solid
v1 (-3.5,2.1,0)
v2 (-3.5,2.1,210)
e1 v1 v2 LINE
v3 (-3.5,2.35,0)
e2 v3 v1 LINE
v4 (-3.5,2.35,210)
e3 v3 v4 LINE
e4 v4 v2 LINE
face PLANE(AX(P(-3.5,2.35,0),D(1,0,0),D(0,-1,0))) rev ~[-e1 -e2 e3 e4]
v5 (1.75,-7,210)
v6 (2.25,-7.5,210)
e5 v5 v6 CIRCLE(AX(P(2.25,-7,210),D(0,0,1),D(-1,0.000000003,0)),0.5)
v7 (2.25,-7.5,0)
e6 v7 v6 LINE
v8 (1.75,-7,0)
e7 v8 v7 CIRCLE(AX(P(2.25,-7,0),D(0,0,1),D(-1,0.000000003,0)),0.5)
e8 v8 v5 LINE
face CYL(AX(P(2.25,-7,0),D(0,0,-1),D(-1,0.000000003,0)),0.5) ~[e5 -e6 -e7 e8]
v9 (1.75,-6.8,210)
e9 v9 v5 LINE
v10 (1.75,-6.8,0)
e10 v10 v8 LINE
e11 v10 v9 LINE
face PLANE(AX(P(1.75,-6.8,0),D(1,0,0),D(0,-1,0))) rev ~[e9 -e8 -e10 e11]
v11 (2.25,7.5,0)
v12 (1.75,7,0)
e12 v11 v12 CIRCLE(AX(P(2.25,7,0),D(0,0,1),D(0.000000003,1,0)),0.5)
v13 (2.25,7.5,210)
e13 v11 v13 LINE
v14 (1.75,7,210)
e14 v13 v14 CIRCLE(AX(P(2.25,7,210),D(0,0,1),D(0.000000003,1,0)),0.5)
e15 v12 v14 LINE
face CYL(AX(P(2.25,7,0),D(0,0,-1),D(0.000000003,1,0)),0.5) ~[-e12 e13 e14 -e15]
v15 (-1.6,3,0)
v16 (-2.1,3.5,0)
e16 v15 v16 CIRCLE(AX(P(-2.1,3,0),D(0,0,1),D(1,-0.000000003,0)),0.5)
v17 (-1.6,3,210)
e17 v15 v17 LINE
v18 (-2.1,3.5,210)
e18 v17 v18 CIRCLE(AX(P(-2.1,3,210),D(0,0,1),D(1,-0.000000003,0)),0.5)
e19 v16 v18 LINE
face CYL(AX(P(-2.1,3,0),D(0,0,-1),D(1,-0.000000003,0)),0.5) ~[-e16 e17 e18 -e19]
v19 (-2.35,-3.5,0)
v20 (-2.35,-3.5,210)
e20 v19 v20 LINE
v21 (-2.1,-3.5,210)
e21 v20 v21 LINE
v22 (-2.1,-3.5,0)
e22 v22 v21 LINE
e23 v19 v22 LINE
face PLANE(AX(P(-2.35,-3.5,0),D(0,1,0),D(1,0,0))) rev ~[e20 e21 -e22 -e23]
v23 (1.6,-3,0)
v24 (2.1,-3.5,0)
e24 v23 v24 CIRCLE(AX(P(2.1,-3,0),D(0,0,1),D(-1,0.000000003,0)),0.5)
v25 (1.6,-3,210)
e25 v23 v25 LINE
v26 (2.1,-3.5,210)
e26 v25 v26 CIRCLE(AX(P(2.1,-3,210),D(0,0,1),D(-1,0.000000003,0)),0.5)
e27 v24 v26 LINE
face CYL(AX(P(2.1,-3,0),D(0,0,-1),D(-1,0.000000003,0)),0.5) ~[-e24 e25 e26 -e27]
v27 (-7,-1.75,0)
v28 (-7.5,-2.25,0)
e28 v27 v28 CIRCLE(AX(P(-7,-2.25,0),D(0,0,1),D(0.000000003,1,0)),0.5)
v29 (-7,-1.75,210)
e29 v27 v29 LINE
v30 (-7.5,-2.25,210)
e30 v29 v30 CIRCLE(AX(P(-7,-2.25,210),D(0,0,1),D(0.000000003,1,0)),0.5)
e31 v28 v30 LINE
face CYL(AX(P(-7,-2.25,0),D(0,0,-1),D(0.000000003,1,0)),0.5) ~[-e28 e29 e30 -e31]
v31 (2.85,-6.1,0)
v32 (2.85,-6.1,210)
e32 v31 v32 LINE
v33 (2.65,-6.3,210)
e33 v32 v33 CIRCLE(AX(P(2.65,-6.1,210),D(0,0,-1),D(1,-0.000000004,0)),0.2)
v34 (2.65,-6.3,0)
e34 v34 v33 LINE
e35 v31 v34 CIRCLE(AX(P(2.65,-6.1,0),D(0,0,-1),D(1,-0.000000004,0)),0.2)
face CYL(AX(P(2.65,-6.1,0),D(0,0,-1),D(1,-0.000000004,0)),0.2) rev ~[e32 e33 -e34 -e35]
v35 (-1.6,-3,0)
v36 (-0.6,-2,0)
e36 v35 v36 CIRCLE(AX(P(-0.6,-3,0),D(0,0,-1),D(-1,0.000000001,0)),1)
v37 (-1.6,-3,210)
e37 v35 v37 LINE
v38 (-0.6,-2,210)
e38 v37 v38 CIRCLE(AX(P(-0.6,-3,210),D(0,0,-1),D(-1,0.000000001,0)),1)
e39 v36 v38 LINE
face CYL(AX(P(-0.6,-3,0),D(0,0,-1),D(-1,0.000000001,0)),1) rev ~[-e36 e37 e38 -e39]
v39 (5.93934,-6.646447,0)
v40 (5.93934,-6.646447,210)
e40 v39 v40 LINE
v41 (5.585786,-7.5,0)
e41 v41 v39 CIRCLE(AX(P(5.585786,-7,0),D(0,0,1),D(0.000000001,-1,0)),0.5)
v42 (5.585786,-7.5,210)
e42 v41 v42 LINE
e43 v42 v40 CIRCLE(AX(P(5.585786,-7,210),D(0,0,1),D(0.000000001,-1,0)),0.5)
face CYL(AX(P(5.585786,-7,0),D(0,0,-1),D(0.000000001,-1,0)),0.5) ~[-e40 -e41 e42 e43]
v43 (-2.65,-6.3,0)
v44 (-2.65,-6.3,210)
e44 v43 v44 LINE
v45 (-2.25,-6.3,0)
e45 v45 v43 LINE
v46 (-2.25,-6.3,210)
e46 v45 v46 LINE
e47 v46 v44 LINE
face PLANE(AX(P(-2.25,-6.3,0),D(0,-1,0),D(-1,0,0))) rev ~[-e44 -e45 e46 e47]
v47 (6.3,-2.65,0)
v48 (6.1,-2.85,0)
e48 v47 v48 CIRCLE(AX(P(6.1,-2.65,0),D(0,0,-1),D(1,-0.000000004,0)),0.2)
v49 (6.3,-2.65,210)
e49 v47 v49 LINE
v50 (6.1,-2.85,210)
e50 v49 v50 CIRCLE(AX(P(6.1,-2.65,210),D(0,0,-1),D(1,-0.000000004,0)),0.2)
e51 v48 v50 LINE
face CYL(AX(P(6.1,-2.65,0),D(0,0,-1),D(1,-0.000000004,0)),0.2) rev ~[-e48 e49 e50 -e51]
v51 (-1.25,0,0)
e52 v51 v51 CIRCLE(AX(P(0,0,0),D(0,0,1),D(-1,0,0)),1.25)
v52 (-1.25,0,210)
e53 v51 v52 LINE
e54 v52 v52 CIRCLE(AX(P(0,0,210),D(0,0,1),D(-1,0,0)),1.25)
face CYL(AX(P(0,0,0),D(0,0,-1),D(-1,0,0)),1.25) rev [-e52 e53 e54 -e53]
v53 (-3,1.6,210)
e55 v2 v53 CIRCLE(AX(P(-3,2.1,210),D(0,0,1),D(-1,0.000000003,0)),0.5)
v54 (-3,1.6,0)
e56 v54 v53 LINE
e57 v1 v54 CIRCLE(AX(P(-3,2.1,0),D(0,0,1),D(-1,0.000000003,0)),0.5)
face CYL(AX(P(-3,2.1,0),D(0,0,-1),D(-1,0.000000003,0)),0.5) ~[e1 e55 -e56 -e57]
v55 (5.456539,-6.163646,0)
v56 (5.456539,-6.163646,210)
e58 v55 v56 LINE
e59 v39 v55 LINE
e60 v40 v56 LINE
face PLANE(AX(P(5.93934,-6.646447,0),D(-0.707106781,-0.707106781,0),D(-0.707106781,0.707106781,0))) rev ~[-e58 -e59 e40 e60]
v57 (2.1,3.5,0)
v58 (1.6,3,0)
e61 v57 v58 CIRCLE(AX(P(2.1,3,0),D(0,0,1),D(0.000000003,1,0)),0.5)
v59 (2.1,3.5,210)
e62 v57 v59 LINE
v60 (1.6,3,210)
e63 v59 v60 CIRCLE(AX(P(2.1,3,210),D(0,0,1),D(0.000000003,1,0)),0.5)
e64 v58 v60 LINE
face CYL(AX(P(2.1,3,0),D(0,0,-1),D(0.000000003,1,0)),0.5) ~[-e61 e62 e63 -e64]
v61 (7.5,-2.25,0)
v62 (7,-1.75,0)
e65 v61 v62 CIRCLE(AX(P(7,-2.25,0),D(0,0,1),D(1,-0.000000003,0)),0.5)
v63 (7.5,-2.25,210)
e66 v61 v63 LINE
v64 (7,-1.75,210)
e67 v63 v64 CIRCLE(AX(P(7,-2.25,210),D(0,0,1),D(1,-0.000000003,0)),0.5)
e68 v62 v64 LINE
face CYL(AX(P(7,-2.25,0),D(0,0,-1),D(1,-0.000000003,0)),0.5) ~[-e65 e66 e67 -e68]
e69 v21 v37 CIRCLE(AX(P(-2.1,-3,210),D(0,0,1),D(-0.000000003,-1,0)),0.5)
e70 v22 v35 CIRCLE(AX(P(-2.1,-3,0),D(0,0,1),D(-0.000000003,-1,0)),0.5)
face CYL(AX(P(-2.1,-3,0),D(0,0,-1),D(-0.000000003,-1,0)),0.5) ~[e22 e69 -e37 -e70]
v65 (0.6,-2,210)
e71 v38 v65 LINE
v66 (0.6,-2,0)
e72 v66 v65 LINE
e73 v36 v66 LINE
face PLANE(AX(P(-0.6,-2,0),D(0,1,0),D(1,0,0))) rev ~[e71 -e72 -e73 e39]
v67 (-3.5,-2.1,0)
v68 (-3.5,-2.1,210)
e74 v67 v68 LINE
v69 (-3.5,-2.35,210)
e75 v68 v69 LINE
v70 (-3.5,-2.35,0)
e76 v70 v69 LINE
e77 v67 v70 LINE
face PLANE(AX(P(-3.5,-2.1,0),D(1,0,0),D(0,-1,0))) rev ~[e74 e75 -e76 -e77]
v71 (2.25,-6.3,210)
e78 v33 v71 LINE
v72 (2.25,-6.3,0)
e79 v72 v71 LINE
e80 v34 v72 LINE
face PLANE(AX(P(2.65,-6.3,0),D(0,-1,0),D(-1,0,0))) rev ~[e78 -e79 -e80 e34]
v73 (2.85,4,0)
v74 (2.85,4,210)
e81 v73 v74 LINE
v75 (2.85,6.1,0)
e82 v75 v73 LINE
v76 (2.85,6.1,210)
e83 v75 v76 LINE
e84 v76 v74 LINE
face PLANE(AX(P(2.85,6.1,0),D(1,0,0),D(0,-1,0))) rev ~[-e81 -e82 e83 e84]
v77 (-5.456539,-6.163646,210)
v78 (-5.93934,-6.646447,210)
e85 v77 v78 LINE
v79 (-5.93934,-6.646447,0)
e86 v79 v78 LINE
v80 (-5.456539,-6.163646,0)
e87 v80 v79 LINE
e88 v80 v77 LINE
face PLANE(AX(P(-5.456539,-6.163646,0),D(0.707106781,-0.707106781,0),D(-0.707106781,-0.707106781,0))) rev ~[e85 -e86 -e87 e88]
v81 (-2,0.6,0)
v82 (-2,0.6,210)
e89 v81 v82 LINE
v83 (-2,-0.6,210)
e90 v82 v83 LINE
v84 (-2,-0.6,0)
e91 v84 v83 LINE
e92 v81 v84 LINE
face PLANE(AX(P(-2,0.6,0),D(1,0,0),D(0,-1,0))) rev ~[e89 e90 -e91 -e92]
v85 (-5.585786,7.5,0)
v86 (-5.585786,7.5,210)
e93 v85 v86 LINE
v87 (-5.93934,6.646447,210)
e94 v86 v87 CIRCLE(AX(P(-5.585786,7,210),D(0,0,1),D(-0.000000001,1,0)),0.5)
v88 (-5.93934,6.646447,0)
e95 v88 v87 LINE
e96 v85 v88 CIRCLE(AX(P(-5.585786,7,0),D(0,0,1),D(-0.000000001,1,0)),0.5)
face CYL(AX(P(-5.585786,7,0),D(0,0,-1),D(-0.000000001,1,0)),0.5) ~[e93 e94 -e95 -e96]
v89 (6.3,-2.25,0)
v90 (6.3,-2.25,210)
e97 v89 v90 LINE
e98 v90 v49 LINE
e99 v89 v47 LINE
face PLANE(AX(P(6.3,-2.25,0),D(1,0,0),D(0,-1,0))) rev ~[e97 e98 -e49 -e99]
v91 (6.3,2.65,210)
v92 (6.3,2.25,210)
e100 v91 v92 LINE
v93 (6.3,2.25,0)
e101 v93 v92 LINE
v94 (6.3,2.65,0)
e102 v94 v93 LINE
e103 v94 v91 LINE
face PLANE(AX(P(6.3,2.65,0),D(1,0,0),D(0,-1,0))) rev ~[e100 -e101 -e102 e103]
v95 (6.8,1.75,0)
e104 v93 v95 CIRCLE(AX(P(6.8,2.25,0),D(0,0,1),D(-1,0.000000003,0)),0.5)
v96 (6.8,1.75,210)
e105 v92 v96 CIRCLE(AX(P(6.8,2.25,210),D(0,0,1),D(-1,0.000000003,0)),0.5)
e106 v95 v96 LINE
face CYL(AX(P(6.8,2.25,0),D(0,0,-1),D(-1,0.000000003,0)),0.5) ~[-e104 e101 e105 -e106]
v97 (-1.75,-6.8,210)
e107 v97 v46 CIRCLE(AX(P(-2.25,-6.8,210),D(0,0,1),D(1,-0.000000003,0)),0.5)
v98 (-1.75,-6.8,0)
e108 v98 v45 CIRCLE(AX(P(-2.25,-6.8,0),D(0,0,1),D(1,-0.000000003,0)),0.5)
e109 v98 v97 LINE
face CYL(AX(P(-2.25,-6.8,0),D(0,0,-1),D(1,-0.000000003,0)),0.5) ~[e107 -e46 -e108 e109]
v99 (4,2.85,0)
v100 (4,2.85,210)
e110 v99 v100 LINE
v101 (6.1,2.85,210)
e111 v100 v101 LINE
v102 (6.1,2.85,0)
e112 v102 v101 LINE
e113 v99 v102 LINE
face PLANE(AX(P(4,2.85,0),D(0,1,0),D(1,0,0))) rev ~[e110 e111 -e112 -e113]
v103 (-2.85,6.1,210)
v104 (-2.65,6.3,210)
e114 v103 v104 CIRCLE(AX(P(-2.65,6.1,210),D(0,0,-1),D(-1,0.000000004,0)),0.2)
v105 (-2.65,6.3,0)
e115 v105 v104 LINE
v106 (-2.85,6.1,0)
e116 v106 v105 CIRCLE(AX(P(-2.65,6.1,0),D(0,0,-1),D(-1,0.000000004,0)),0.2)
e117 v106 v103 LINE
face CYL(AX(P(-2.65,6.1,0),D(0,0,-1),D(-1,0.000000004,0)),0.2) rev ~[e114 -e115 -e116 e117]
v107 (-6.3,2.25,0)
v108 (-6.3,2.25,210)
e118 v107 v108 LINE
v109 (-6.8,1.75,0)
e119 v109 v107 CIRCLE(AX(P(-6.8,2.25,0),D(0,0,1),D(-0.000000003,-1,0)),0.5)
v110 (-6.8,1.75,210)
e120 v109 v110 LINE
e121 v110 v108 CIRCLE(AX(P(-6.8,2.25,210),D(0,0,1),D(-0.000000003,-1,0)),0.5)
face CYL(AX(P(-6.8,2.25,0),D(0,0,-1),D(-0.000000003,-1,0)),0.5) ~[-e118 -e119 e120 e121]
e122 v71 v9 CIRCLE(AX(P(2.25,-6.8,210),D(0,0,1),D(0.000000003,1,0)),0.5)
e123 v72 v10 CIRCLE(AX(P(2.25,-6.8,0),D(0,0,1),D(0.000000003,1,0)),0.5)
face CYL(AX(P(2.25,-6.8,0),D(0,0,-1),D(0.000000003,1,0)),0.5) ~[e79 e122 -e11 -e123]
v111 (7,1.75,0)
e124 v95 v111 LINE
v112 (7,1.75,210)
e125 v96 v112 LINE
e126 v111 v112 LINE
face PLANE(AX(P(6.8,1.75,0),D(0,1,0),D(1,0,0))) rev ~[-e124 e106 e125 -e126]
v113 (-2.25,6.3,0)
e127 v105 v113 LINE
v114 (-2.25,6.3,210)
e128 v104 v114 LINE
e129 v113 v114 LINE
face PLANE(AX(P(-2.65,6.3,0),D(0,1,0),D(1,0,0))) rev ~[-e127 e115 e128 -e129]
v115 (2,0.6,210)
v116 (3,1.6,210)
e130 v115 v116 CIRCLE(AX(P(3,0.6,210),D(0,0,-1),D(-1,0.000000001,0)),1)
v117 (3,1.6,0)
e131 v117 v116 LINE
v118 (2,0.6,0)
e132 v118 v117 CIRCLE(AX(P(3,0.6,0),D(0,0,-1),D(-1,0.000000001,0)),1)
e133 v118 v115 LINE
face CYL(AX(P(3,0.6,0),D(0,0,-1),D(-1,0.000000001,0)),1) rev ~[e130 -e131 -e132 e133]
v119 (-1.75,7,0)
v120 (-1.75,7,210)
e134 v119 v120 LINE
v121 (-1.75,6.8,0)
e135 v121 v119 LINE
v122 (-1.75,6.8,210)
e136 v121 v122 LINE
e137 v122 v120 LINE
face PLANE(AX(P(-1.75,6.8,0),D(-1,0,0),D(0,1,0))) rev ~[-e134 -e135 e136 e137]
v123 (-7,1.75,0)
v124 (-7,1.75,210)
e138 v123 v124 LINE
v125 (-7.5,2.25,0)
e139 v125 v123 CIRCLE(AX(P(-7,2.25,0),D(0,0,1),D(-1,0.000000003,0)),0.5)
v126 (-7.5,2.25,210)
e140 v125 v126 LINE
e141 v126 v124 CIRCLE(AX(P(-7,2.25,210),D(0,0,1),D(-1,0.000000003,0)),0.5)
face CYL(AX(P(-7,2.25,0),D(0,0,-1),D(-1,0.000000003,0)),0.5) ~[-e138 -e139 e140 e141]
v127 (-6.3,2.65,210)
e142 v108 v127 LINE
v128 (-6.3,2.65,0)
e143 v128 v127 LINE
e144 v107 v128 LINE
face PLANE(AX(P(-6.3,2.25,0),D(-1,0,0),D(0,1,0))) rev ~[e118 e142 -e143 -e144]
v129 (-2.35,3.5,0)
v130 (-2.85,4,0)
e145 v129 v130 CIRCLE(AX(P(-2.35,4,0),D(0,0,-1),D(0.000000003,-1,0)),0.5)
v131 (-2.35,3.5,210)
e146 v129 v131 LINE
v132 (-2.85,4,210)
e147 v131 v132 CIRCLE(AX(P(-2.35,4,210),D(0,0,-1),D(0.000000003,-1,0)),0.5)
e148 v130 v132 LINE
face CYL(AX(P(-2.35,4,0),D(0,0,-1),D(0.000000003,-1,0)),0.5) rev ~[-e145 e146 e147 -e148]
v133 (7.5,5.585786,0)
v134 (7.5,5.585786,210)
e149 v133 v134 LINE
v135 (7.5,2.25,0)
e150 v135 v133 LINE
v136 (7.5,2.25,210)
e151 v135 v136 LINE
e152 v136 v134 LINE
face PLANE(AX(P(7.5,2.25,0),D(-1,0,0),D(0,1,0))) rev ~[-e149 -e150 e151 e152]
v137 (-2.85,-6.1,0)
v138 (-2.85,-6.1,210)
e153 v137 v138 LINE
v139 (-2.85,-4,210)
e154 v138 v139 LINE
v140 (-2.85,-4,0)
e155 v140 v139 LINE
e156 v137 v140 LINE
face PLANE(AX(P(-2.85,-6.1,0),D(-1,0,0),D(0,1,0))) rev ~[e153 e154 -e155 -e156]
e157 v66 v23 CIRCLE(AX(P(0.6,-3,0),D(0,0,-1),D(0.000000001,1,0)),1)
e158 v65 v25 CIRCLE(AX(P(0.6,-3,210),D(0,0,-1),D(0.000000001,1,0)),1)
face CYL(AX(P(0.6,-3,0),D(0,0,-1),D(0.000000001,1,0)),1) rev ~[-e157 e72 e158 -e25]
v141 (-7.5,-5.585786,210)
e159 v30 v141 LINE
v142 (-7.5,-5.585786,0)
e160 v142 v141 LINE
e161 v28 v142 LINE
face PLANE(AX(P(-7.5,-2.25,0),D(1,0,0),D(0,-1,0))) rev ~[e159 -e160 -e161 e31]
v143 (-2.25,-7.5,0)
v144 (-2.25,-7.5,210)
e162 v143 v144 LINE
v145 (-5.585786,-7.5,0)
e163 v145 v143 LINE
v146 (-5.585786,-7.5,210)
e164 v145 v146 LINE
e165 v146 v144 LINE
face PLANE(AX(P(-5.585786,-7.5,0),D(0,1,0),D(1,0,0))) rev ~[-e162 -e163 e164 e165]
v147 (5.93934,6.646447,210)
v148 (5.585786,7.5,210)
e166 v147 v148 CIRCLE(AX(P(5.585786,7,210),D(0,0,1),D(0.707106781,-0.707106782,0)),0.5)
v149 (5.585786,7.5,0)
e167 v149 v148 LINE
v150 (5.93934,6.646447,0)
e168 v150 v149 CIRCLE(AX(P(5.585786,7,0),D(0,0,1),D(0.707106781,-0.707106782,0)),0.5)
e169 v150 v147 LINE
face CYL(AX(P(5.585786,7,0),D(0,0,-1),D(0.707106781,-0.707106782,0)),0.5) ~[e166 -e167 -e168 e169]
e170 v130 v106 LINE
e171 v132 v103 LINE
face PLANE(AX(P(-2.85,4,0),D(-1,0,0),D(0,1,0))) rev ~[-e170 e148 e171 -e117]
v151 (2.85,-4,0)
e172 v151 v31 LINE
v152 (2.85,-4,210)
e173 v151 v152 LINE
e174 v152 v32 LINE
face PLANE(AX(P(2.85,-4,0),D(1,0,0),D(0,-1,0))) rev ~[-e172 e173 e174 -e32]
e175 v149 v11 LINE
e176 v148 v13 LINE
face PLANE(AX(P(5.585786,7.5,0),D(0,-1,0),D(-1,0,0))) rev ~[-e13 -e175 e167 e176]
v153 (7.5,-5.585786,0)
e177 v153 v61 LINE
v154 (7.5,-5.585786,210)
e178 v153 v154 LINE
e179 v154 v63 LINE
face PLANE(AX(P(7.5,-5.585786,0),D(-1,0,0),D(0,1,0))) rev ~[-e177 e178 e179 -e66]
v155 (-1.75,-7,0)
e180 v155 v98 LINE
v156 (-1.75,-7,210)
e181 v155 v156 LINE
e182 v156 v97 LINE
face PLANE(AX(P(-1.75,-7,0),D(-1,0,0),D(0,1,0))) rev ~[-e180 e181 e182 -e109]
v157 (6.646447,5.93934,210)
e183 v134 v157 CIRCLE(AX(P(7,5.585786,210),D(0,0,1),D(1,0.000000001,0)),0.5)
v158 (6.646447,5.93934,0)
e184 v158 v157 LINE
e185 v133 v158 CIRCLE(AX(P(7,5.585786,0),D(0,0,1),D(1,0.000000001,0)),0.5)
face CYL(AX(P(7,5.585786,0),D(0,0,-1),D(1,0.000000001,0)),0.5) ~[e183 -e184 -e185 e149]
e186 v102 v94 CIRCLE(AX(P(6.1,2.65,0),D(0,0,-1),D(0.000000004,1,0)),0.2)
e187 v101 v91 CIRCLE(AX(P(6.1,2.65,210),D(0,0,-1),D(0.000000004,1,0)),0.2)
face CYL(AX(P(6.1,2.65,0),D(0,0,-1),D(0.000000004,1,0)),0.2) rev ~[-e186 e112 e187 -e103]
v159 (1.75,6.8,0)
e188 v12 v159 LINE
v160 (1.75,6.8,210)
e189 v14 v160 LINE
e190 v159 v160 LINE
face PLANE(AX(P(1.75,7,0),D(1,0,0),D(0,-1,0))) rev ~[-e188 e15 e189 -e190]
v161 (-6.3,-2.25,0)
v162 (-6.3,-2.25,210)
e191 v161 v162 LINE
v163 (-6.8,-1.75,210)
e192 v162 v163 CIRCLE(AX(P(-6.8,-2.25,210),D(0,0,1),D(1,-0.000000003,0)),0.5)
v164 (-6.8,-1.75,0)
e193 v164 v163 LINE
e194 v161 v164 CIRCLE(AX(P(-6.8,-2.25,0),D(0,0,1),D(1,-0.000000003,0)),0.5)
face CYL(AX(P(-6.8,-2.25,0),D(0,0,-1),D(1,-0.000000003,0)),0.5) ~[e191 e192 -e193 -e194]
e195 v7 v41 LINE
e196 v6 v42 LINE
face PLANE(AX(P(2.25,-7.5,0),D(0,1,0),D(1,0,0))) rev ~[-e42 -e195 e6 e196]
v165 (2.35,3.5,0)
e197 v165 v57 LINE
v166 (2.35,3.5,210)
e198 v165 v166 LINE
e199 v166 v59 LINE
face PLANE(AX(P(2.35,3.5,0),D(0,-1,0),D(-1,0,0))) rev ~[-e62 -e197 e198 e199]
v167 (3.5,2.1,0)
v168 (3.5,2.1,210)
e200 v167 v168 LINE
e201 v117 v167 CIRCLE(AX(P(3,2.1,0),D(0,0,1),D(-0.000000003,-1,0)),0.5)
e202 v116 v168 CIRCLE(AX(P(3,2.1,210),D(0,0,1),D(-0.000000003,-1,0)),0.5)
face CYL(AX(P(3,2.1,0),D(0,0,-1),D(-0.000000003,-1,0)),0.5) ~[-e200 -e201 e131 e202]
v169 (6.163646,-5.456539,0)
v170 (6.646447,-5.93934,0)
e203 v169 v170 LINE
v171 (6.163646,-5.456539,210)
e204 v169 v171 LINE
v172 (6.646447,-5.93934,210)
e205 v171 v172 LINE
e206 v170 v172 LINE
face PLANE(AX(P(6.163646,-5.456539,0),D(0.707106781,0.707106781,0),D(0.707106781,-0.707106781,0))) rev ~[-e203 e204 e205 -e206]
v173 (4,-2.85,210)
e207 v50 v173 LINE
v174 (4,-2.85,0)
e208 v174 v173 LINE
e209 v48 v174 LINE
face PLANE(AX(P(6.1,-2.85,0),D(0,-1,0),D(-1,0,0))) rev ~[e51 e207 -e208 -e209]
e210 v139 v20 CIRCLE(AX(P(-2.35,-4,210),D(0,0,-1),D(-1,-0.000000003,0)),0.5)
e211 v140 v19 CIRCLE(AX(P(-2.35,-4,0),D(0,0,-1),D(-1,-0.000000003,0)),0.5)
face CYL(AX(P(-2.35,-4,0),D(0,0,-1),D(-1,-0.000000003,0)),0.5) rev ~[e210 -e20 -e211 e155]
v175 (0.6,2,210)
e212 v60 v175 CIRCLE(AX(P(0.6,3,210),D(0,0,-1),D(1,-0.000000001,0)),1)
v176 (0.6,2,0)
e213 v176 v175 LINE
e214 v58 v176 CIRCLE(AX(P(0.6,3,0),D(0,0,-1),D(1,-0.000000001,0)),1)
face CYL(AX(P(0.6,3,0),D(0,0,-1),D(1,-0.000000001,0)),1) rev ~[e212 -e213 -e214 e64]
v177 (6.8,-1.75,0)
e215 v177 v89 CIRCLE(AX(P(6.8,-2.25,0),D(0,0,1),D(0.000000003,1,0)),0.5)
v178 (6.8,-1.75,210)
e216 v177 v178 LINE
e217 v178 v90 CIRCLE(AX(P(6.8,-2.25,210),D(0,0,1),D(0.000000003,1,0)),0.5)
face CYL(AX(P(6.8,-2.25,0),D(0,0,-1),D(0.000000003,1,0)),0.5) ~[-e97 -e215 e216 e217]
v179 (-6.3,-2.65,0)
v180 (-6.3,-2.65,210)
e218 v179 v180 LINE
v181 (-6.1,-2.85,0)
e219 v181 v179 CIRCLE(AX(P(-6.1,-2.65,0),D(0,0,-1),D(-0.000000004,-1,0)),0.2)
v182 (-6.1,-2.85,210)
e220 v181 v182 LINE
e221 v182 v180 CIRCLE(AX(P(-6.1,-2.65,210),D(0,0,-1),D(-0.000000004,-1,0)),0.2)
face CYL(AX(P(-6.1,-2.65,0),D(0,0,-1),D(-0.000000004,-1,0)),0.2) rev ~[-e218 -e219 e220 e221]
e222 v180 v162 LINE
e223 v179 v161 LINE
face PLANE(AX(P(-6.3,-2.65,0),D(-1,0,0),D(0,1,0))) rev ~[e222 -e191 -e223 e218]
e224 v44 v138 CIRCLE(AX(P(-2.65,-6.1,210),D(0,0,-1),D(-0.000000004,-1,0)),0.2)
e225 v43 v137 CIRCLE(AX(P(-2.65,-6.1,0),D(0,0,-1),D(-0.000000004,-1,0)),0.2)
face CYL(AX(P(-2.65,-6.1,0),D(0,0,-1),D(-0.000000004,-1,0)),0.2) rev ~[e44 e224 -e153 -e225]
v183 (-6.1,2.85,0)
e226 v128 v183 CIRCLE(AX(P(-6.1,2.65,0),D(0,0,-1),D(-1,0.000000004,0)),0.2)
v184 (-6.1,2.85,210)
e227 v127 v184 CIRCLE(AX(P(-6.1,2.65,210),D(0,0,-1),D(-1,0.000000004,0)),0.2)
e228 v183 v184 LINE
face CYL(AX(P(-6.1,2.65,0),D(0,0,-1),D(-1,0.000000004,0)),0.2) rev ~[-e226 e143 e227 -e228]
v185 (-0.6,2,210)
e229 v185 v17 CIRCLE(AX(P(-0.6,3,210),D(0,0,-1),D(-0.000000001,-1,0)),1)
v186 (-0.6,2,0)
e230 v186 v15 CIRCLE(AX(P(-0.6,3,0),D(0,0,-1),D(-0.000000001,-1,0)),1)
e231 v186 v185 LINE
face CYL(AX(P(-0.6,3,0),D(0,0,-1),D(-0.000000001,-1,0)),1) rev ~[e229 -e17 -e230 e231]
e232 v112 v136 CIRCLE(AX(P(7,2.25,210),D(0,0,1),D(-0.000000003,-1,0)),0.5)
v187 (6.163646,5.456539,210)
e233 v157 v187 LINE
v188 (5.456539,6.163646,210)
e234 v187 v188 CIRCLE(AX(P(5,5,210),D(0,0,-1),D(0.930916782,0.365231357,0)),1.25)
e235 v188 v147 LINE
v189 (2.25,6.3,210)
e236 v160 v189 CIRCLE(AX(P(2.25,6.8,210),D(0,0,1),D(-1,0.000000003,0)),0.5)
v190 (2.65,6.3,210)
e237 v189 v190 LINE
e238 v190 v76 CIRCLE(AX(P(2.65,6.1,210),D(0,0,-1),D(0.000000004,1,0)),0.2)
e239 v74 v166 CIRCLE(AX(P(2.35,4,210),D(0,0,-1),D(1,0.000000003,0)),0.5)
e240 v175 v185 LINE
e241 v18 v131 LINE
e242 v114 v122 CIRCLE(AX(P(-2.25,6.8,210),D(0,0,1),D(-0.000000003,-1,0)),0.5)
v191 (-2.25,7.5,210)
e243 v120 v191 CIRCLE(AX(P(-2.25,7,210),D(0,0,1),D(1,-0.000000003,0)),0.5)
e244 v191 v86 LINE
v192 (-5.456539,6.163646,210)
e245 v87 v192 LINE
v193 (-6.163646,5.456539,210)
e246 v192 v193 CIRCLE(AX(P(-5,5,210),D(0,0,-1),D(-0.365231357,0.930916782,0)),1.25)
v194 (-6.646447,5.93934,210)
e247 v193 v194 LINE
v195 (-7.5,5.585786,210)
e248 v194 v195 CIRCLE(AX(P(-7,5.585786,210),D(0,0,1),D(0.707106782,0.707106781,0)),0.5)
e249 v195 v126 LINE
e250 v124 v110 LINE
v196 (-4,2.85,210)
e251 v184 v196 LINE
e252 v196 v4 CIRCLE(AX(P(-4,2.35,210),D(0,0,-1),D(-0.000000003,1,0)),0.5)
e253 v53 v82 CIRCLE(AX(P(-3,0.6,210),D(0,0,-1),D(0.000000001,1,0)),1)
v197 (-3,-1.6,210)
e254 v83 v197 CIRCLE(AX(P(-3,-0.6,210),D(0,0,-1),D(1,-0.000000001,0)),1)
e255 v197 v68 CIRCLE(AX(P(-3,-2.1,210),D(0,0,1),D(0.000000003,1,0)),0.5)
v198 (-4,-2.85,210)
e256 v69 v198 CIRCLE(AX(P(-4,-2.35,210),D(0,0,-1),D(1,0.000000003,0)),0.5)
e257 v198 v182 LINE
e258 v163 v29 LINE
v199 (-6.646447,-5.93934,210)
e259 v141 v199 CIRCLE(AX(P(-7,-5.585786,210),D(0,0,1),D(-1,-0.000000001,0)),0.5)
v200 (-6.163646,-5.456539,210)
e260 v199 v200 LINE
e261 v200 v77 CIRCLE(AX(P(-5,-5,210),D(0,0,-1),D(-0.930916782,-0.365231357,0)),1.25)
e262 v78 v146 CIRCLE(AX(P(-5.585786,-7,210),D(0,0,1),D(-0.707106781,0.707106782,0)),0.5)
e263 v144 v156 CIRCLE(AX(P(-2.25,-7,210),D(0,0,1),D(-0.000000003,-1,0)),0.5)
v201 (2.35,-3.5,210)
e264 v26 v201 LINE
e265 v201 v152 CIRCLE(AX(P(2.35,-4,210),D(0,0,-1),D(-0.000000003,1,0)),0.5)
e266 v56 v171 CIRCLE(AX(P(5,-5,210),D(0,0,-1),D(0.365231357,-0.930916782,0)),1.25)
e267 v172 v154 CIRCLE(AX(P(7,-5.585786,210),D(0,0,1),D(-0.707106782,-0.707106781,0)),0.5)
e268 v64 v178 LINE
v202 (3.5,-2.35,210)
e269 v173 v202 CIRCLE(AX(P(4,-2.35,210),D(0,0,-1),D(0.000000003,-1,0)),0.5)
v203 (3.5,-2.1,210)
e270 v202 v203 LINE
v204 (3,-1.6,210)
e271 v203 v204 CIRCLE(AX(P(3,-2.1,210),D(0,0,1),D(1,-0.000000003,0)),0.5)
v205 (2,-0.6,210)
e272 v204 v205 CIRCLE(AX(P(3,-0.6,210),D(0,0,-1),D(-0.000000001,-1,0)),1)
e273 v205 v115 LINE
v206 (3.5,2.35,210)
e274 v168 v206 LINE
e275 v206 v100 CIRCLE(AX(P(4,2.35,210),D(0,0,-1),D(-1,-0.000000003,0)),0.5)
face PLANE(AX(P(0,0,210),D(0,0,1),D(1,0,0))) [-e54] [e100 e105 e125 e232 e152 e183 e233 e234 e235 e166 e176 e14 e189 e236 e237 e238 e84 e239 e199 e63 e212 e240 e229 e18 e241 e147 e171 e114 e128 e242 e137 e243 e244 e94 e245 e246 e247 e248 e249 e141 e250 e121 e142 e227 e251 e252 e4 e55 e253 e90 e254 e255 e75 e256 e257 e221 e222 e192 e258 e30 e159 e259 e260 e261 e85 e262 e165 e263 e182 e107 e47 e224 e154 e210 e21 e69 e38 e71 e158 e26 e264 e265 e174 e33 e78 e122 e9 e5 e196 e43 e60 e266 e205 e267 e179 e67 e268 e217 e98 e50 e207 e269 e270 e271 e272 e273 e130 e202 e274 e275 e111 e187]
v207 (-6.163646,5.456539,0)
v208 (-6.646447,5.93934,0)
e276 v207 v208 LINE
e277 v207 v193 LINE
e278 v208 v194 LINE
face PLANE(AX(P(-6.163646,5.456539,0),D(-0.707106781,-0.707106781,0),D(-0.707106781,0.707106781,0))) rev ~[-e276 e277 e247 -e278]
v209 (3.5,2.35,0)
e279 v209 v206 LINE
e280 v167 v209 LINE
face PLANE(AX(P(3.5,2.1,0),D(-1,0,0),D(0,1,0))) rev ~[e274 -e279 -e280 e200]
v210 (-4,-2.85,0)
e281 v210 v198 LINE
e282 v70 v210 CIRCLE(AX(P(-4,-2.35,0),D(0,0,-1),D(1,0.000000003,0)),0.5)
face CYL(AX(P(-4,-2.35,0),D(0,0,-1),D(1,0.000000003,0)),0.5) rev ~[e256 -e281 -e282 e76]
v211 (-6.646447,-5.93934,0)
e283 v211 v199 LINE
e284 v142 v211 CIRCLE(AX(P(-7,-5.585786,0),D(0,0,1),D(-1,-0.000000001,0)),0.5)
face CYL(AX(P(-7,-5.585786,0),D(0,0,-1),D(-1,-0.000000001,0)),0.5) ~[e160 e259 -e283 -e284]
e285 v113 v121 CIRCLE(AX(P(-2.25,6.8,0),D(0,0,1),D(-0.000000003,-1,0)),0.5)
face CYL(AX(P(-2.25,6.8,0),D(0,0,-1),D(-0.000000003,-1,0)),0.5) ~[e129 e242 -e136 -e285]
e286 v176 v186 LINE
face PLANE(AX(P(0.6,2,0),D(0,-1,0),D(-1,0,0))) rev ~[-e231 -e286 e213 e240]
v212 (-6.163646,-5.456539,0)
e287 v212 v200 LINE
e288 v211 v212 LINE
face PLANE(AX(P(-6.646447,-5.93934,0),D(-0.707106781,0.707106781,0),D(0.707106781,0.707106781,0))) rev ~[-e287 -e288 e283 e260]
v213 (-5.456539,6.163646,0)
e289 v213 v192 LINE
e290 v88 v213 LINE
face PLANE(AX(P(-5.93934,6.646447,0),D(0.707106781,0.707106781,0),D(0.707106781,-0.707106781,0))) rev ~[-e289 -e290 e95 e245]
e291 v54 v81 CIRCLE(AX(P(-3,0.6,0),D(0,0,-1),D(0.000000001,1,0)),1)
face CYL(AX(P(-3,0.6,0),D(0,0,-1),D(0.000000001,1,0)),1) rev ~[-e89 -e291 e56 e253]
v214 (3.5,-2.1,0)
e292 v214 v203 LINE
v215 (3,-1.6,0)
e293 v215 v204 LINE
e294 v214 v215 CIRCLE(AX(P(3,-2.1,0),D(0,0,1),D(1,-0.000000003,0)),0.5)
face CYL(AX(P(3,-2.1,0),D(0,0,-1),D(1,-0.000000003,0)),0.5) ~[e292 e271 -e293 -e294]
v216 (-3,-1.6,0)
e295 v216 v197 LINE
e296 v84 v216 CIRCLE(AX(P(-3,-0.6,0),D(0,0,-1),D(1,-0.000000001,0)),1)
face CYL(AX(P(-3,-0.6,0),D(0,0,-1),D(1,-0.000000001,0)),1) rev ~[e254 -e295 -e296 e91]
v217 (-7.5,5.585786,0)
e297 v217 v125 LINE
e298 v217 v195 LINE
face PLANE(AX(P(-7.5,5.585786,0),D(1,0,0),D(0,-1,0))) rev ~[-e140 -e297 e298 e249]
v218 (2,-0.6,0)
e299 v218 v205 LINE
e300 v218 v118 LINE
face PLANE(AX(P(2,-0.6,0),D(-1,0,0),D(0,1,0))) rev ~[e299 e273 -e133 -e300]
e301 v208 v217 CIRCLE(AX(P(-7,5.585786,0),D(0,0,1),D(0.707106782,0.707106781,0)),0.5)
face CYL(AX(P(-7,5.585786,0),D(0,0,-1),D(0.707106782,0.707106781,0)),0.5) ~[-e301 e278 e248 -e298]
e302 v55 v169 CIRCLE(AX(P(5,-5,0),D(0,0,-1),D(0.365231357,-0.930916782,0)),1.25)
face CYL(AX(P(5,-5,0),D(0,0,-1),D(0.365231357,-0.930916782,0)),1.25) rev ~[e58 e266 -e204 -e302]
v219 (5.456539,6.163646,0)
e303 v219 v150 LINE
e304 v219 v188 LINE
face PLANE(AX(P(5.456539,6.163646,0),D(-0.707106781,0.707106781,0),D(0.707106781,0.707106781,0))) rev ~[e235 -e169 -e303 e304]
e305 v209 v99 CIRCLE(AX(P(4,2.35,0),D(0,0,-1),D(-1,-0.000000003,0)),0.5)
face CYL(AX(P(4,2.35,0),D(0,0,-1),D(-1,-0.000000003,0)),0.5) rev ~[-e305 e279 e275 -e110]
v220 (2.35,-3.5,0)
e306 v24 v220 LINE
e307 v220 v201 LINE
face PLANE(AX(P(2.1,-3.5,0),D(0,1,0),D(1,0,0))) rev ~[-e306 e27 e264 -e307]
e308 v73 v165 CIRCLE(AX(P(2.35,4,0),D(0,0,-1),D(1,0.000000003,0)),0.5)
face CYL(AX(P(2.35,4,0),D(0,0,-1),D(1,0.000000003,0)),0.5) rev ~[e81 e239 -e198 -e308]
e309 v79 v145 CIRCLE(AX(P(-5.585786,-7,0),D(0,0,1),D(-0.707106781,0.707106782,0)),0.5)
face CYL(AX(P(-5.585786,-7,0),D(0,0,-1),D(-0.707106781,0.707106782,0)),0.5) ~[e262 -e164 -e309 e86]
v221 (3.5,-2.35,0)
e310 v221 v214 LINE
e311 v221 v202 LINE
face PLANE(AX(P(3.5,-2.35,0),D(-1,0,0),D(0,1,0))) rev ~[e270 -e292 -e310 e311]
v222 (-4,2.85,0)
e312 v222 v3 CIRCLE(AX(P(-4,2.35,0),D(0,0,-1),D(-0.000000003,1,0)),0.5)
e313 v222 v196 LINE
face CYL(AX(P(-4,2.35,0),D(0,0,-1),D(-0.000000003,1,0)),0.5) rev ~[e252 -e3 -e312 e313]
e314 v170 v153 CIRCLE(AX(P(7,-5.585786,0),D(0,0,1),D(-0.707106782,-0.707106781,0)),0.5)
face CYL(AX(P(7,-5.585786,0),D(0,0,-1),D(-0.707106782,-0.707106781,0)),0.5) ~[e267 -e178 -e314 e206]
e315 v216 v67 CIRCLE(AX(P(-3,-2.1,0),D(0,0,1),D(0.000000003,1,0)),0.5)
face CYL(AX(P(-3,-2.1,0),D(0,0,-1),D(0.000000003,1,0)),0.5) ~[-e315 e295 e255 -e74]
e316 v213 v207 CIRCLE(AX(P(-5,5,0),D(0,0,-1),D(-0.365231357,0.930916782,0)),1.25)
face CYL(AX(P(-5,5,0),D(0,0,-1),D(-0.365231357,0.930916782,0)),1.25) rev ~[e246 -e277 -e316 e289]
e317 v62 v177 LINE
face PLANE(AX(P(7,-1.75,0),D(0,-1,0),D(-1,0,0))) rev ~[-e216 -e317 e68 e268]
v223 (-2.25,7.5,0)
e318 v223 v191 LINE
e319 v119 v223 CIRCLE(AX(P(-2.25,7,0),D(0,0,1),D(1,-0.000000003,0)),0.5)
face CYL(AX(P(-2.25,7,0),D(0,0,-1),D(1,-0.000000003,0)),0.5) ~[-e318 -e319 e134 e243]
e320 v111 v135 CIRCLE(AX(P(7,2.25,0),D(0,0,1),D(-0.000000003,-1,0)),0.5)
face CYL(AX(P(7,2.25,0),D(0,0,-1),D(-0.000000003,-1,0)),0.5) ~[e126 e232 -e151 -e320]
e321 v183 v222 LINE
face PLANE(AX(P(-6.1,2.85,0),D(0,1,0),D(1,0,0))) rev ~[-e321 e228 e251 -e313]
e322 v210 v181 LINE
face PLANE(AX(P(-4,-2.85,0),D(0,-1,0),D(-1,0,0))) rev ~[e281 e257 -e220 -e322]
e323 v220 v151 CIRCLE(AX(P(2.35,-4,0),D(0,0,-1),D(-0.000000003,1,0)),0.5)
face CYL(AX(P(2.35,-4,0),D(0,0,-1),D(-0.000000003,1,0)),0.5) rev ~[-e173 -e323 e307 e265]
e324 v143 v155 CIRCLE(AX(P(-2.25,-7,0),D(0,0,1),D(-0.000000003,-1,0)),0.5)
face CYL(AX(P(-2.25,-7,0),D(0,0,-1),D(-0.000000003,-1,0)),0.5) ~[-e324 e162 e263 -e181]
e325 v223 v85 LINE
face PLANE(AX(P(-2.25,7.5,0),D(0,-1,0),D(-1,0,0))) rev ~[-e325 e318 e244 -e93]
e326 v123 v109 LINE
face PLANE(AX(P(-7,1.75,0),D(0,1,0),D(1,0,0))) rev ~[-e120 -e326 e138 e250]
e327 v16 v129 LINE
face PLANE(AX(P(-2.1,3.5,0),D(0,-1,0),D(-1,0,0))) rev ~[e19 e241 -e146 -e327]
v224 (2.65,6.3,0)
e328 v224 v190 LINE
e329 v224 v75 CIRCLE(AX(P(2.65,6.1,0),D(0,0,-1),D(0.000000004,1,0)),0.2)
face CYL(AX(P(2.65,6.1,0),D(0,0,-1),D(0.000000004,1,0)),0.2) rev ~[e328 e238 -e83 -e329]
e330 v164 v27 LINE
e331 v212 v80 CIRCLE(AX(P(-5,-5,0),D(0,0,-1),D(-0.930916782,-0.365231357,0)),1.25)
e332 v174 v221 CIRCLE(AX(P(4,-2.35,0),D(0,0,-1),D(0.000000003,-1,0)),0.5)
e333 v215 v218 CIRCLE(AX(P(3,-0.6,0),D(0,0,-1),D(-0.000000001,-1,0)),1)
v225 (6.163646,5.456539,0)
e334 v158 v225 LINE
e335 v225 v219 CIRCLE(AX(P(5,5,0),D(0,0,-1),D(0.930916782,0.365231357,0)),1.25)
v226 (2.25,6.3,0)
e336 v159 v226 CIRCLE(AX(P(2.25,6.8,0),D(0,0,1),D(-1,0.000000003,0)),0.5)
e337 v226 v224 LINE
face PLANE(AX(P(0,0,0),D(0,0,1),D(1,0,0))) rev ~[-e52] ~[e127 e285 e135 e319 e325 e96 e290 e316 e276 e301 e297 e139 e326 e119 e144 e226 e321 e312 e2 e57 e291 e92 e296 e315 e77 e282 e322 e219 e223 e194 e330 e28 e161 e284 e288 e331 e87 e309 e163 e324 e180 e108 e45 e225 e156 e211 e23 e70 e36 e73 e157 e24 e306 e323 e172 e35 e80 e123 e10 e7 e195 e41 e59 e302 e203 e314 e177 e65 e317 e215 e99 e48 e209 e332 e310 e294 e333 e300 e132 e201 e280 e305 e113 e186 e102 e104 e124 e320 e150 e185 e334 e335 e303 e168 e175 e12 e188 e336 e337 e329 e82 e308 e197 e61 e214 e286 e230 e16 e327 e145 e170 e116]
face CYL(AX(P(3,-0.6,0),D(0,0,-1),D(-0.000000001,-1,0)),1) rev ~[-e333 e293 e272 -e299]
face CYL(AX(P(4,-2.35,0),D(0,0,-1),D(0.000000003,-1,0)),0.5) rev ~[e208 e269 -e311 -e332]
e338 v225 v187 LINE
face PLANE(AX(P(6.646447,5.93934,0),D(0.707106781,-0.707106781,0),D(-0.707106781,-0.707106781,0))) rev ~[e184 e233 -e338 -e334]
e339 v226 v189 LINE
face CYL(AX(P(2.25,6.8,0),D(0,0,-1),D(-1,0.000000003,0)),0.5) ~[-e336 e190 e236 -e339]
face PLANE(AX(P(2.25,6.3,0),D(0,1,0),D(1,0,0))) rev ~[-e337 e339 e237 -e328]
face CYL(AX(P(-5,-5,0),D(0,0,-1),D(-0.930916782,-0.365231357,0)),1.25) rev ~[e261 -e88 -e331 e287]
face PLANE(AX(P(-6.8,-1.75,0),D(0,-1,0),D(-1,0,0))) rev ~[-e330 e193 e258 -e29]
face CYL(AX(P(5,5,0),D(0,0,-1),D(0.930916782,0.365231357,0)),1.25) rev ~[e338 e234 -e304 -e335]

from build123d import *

# Parameters (mm, degrees)
SKETCH1_R           = 1.25
BOSS_EXTRUDE1_DEPTH = 210


with BuildPart() as part:
    # Sketch1 → Boss-Extrude1 (new body)
    with BuildSketch(Plane.XY):
        with BuildLine():
            Line((6.646446609, 5.939339828), (6.163645978, 5.456539197))
            ThreePointArc((6.163645978, 5.456539197), (4.116116524, 4.116116524), (5.456539197, 6.163645978))
            Line((5.456539197, 6.163645978), (5.939339828, 6.646446609))
            ThreePointArc((5.939339828, 6.646446609), (6.047726204, 7.191341716), (5.585786438, 7.5))
            Line((5.585786438, 7.5), (2.25, 7.5))
            ThreePointArc((2.25, 7.5), (1.896446609, 7.353553391), (1.75, 7))
            Line((1.75, 7), (1.75, 6.8))
            ThreePointArc((1.75, 6.8), (1.896446609, 6.446446609), (2.25, 6.3))
            Line((2.25, 6.3), (2.65, 6.3))
            ThreePointArc((2.65, 6.3), (2.791421356, 6.241421356), (2.85, 6.1))
            Line((2.85, 6.1), (2.85, 4))
            ThreePointArc((2.85, 4), (2.703553391, 3.646446609), (2.35, 3.5))
            Line((2.35, 3.5), (2.1, 3.5))
            ThreePointArc((2.1, 3.5), (1.746446609, 3.353553391), (1.6, 3))
            ThreePointArc((1.6, 3), (1.307106781, 2.292893219), (0.6, 2))
            Line((0.6, 2), (-0.6, 2))
            ThreePointArc((-0.6, 2), (-1.307106781, 2.292893219), (-1.6, 3))
            ThreePointArc((-1.6, 3), (-1.746446609, 3.353553391), (-2.1, 3.5))
            Line((-2.1, 3.5), (-2.35, 3.5))
            ThreePointArc((-2.35, 3.5), (-2.703553391, 3.646446609), (-2.85, 4))
            Line((-2.85, 4), (-2.85, 6.1))
            ThreePointArc((-2.85, 6.1), (-2.791421356, 6.241421356), (-2.65, 6.3))
            Line((-2.65, 6.3), (-2.25, 6.3))
            ThreePointArc((-2.25, 6.3), (-1.896446609, 6.446446609), (-1.75, 6.8))
            Line((-1.75, 6.8), (-1.75, 7))
            ThreePointArc((-1.75, 7), (-1.896446609, 7.353553391), (-2.25, 7.5))
            Line((-2.25, 7.5), (-5.585786438, 7.5))
            ThreePointArc((-5.585786438, 7.5), (-6.047726204, 7.191341716), (-5.939339828, 6.646446609))
            Line((-5.939339828, 6.646446609), (-5.456539197, 6.163645978))
            ThreePointArc((-5.456539197, 6.163645978), (-4.116116524, 4.116116524), (-6.163645978, 5.456539197))
            Line((-6.163645978, 5.456539197), (-6.646446609, 5.939339828))
            ThreePointArc((-6.646446609, 5.939339828), (-7.191341716, 6.047726204), (-7.5, 5.585786438))
            Line((-7.5, 5.585786438), (-7.5, 2.25))
            ThreePointArc((-7.5, 2.25), (-7.353553391, 1.896446609), (-7, 1.75))
            Line((-7, 1.75), (-6.8, 1.75))
            ThreePointArc((-6.8, 1.75), (-6.446446609, 1.896446609), (-6.3, 2.25))
            Line((-6.3, 2.25), (-6.3, 2.65))
            ThreePointArc((-6.3, 2.65), (-6.241421356, 2.791421356), (-6.1, 2.85))
            Line((-6.1, 2.85), (-4, 2.85))
            ThreePointArc((-4, 2.85), (-3.646446609, 2.703553391), (-3.5, 2.35))
            Line((-3.5, 2.35), (-3.5, 2.1))
            ThreePointArc((-3.5, 2.1), (-3.353553391, 1.746446609), (-3, 1.6))
            ThreePointArc((-3, 1.6), (-2.292893219, 1.307106781), (-2, 0.6))
            Line((-2, 0.6), (-2, -0.6))
            ThreePointArc((-2, -0.6), (-2.292893219, -1.307106781), (-3, -1.6))
            ThreePointArc((-3, -1.6), (-3.353553391, -1.746446609), (-3.5, -2.1))
            Line((-3.5, -2.1), (-3.5, -2.35))
            ThreePointArc((-3.5, -2.35), (-3.646446609, -2.703553391), (-4, -2.85))
            Line((-4, -2.85), (-6.1, -2.85))
            ThreePointArc((-6.1, -2.85), (-6.241421356, -2.791421356), (-6.3, -2.65))
            Line((-6.3, -2.65), (-6.3, -2.25))
            ThreePointArc((-6.3, -2.25), (-6.446446609, -1.896446609), (-6.8, -1.75))
            Line((-6.8, -1.75), (-7, -1.75))
            ThreePointArc((-7, -1.75), (-7.353553391, -1.896446609), (-7.5, -2.25))
            Line((-7.5, -2.25), (-7.5, -5.585786438))
            ThreePointArc((-7.5, -5.585786438), (-7.191341716, -6.047726204), (-6.646446609, -5.939339828))
            Line((-6.646446609, -5.939339828), (-6.163645978, -5.456539197))
            ThreePointArc((-6.163645978, -5.456539197), (-4.116116524, -4.116116524), (-5.456539197, -6.163645978))
            Line((-5.456539197, -6.163645978), (-5.939339828, -6.646446609))
            ThreePointArc((-5.939339828, -6.646446609), (-6.047726204, -7.191341716), (-5.585786438, -7.5))
            Line((-5.585786438, -7.5), (-2.25, -7.5))
            ThreePointArc((-2.25, -7.5), (-1.896446609, -7.353553391), (-1.75, -7))
            Line((-1.75, -7), (-1.75, -6.8))
            ThreePointArc((-1.75, -6.8), (-1.896446609, -6.446446609), (-2.25, -6.3))
            Line((-2.25, -6.3), (-2.65, -6.3))
            ThreePointArc((-2.65, -6.3), (-2.791421356, -6.241421356), (-2.85, -6.1))
            Line((-2.85, -6.1), (-2.85, -4))
            ThreePointArc((-2.85, -4), (-2.703553391, -3.646446609), (-2.35, -3.5))
            Line((-2.35, -3.5), (-2.1, -3.5))
            ThreePointArc((-2.1, -3.5), (-1.746446609, -3.353553391), (-1.6, -3))
            ThreePointArc((-1.6, -3), (-1.307106781, -2.292893219), (-0.6, -2))
            Line((-0.6, -2), (0.6, -2))
            ThreePointArc((0.6, -2), (1.307106781, -2.292893219), (1.6, -3))
            ThreePointArc((1.6, -3), (1.746446609, -3.353553391), (2.1, -3.5))
            Line((2.1, -3.5), (2.35, -3.5))
            ThreePointArc((2.35, -3.5), (2.703553391, -3.646446609), (2.85, -4))
            Line((2.85, -4), (2.85, -6.1))
            ThreePointArc((2.85, -6.1), (2.791421356, -6.241421356), (2.65, -6.3))
            Line((2.65, -6.3), (2.25, -6.3))
            ThreePointArc((2.25, -6.3), (1.896446609, -6.446446609), (1.75, -6.8))
            Line((1.75, -6.8), (1.75, -7))
            ThreePointArc((1.75, -7), (1.896446609, -7.353553391), (2.25, -7.5))
            Line((2.25, -7.5), (5.585786438, -7.5))
            ThreePointArc((5.585786438, -7.5), (6.047726204, -7.191341716), (5.939339828, -6.646446609))
            Line((5.939339828, -6.646446609), (5.456539197, -6.163645978))
            ThreePointArc((5.456539197, -6.163645978), (4.116116524, -4.116116524), (6.163645978, -5.456539197))
            Line((6.163645978, -5.456539197), (6.646446609, -5.939339828))
            ThreePointArc((6.646446609, -5.939339828), (7.191341716, -6.047726204), (7.5, -5.585786438))
            Line((7.5, -5.585786438), (7.5, -2.25))
            ThreePointArc((7.5, -2.25), (7.353553391, -1.896446609), (7, -1.75))
            Line((7, -1.75), (6.8, -1.75))
            ThreePointArc((6.8, -1.75), (6.446446609, -1.896446609), (6.3, -2.25))
            Line((6.3, -2.25), (6.3, -2.65))
            ThreePointArc((6.3, -2.65), (6.241421356, -2.791421356), (6.1, -2.85))
            Line((6.1, -2.85), (4, -2.85))
            ThreePointArc((4, -2.85), (3.646446609, -2.703553391), (3.5, -2.35))
            Line((3.5, -2.35), (3.5, -2.1))
            ThreePointArc((3.5, -2.1), (3.353553391, -1.746446609), (3, -1.6))
            ThreePointArc((3, -1.6), (2.292893219, -1.307106781), (2, -0.6))
            Line((2, -0.6), (2, 0.6))
            ThreePointArc((2, 0.6), (2.292893219, 1.307106781), (3, 1.6))
            ThreePointArc((3, 1.6), (3.353553391, 1.746446609), (3.5, 2.1))
            Line((3.5, 2.1), (3.5, 2.35))
            ThreePointArc((3.5, 2.35), (3.646446609, 2.703553391), (4, 2.85))
            Line((4, 2.85), (6.1, 2.85))
            ThreePointArc((6.1, 2.85), (6.241421356, 2.791421356), (6.3, 2.65))
            Line((6.3, 2.65), (6.3, 2.25))
            ThreePointArc((6.3, 2.25), (6.446446609, 1.896446609), (6.8, 1.75))
            Line((6.8, 1.75), (7, 1.75))
            ThreePointArc((7, 1.75), (7.353553391, 1.896446609), (7.5, 2.25))
            Line((7.5, 2.25), (7.5, 5.585786438))
            ThreePointArc((7.5, 5.585786438), (7.191341716, 6.047726204), (6.646446609, 5.939339828))
        make_face()
        with Locations(Location((0, 0, 0), (0, 0, 180))):
            Circle(SKETCH1_R, mode=Mode.SUBTRACT)
    extrude(amount=BOSS_EXTRUDE1_DEPTH)


solid = part.part
